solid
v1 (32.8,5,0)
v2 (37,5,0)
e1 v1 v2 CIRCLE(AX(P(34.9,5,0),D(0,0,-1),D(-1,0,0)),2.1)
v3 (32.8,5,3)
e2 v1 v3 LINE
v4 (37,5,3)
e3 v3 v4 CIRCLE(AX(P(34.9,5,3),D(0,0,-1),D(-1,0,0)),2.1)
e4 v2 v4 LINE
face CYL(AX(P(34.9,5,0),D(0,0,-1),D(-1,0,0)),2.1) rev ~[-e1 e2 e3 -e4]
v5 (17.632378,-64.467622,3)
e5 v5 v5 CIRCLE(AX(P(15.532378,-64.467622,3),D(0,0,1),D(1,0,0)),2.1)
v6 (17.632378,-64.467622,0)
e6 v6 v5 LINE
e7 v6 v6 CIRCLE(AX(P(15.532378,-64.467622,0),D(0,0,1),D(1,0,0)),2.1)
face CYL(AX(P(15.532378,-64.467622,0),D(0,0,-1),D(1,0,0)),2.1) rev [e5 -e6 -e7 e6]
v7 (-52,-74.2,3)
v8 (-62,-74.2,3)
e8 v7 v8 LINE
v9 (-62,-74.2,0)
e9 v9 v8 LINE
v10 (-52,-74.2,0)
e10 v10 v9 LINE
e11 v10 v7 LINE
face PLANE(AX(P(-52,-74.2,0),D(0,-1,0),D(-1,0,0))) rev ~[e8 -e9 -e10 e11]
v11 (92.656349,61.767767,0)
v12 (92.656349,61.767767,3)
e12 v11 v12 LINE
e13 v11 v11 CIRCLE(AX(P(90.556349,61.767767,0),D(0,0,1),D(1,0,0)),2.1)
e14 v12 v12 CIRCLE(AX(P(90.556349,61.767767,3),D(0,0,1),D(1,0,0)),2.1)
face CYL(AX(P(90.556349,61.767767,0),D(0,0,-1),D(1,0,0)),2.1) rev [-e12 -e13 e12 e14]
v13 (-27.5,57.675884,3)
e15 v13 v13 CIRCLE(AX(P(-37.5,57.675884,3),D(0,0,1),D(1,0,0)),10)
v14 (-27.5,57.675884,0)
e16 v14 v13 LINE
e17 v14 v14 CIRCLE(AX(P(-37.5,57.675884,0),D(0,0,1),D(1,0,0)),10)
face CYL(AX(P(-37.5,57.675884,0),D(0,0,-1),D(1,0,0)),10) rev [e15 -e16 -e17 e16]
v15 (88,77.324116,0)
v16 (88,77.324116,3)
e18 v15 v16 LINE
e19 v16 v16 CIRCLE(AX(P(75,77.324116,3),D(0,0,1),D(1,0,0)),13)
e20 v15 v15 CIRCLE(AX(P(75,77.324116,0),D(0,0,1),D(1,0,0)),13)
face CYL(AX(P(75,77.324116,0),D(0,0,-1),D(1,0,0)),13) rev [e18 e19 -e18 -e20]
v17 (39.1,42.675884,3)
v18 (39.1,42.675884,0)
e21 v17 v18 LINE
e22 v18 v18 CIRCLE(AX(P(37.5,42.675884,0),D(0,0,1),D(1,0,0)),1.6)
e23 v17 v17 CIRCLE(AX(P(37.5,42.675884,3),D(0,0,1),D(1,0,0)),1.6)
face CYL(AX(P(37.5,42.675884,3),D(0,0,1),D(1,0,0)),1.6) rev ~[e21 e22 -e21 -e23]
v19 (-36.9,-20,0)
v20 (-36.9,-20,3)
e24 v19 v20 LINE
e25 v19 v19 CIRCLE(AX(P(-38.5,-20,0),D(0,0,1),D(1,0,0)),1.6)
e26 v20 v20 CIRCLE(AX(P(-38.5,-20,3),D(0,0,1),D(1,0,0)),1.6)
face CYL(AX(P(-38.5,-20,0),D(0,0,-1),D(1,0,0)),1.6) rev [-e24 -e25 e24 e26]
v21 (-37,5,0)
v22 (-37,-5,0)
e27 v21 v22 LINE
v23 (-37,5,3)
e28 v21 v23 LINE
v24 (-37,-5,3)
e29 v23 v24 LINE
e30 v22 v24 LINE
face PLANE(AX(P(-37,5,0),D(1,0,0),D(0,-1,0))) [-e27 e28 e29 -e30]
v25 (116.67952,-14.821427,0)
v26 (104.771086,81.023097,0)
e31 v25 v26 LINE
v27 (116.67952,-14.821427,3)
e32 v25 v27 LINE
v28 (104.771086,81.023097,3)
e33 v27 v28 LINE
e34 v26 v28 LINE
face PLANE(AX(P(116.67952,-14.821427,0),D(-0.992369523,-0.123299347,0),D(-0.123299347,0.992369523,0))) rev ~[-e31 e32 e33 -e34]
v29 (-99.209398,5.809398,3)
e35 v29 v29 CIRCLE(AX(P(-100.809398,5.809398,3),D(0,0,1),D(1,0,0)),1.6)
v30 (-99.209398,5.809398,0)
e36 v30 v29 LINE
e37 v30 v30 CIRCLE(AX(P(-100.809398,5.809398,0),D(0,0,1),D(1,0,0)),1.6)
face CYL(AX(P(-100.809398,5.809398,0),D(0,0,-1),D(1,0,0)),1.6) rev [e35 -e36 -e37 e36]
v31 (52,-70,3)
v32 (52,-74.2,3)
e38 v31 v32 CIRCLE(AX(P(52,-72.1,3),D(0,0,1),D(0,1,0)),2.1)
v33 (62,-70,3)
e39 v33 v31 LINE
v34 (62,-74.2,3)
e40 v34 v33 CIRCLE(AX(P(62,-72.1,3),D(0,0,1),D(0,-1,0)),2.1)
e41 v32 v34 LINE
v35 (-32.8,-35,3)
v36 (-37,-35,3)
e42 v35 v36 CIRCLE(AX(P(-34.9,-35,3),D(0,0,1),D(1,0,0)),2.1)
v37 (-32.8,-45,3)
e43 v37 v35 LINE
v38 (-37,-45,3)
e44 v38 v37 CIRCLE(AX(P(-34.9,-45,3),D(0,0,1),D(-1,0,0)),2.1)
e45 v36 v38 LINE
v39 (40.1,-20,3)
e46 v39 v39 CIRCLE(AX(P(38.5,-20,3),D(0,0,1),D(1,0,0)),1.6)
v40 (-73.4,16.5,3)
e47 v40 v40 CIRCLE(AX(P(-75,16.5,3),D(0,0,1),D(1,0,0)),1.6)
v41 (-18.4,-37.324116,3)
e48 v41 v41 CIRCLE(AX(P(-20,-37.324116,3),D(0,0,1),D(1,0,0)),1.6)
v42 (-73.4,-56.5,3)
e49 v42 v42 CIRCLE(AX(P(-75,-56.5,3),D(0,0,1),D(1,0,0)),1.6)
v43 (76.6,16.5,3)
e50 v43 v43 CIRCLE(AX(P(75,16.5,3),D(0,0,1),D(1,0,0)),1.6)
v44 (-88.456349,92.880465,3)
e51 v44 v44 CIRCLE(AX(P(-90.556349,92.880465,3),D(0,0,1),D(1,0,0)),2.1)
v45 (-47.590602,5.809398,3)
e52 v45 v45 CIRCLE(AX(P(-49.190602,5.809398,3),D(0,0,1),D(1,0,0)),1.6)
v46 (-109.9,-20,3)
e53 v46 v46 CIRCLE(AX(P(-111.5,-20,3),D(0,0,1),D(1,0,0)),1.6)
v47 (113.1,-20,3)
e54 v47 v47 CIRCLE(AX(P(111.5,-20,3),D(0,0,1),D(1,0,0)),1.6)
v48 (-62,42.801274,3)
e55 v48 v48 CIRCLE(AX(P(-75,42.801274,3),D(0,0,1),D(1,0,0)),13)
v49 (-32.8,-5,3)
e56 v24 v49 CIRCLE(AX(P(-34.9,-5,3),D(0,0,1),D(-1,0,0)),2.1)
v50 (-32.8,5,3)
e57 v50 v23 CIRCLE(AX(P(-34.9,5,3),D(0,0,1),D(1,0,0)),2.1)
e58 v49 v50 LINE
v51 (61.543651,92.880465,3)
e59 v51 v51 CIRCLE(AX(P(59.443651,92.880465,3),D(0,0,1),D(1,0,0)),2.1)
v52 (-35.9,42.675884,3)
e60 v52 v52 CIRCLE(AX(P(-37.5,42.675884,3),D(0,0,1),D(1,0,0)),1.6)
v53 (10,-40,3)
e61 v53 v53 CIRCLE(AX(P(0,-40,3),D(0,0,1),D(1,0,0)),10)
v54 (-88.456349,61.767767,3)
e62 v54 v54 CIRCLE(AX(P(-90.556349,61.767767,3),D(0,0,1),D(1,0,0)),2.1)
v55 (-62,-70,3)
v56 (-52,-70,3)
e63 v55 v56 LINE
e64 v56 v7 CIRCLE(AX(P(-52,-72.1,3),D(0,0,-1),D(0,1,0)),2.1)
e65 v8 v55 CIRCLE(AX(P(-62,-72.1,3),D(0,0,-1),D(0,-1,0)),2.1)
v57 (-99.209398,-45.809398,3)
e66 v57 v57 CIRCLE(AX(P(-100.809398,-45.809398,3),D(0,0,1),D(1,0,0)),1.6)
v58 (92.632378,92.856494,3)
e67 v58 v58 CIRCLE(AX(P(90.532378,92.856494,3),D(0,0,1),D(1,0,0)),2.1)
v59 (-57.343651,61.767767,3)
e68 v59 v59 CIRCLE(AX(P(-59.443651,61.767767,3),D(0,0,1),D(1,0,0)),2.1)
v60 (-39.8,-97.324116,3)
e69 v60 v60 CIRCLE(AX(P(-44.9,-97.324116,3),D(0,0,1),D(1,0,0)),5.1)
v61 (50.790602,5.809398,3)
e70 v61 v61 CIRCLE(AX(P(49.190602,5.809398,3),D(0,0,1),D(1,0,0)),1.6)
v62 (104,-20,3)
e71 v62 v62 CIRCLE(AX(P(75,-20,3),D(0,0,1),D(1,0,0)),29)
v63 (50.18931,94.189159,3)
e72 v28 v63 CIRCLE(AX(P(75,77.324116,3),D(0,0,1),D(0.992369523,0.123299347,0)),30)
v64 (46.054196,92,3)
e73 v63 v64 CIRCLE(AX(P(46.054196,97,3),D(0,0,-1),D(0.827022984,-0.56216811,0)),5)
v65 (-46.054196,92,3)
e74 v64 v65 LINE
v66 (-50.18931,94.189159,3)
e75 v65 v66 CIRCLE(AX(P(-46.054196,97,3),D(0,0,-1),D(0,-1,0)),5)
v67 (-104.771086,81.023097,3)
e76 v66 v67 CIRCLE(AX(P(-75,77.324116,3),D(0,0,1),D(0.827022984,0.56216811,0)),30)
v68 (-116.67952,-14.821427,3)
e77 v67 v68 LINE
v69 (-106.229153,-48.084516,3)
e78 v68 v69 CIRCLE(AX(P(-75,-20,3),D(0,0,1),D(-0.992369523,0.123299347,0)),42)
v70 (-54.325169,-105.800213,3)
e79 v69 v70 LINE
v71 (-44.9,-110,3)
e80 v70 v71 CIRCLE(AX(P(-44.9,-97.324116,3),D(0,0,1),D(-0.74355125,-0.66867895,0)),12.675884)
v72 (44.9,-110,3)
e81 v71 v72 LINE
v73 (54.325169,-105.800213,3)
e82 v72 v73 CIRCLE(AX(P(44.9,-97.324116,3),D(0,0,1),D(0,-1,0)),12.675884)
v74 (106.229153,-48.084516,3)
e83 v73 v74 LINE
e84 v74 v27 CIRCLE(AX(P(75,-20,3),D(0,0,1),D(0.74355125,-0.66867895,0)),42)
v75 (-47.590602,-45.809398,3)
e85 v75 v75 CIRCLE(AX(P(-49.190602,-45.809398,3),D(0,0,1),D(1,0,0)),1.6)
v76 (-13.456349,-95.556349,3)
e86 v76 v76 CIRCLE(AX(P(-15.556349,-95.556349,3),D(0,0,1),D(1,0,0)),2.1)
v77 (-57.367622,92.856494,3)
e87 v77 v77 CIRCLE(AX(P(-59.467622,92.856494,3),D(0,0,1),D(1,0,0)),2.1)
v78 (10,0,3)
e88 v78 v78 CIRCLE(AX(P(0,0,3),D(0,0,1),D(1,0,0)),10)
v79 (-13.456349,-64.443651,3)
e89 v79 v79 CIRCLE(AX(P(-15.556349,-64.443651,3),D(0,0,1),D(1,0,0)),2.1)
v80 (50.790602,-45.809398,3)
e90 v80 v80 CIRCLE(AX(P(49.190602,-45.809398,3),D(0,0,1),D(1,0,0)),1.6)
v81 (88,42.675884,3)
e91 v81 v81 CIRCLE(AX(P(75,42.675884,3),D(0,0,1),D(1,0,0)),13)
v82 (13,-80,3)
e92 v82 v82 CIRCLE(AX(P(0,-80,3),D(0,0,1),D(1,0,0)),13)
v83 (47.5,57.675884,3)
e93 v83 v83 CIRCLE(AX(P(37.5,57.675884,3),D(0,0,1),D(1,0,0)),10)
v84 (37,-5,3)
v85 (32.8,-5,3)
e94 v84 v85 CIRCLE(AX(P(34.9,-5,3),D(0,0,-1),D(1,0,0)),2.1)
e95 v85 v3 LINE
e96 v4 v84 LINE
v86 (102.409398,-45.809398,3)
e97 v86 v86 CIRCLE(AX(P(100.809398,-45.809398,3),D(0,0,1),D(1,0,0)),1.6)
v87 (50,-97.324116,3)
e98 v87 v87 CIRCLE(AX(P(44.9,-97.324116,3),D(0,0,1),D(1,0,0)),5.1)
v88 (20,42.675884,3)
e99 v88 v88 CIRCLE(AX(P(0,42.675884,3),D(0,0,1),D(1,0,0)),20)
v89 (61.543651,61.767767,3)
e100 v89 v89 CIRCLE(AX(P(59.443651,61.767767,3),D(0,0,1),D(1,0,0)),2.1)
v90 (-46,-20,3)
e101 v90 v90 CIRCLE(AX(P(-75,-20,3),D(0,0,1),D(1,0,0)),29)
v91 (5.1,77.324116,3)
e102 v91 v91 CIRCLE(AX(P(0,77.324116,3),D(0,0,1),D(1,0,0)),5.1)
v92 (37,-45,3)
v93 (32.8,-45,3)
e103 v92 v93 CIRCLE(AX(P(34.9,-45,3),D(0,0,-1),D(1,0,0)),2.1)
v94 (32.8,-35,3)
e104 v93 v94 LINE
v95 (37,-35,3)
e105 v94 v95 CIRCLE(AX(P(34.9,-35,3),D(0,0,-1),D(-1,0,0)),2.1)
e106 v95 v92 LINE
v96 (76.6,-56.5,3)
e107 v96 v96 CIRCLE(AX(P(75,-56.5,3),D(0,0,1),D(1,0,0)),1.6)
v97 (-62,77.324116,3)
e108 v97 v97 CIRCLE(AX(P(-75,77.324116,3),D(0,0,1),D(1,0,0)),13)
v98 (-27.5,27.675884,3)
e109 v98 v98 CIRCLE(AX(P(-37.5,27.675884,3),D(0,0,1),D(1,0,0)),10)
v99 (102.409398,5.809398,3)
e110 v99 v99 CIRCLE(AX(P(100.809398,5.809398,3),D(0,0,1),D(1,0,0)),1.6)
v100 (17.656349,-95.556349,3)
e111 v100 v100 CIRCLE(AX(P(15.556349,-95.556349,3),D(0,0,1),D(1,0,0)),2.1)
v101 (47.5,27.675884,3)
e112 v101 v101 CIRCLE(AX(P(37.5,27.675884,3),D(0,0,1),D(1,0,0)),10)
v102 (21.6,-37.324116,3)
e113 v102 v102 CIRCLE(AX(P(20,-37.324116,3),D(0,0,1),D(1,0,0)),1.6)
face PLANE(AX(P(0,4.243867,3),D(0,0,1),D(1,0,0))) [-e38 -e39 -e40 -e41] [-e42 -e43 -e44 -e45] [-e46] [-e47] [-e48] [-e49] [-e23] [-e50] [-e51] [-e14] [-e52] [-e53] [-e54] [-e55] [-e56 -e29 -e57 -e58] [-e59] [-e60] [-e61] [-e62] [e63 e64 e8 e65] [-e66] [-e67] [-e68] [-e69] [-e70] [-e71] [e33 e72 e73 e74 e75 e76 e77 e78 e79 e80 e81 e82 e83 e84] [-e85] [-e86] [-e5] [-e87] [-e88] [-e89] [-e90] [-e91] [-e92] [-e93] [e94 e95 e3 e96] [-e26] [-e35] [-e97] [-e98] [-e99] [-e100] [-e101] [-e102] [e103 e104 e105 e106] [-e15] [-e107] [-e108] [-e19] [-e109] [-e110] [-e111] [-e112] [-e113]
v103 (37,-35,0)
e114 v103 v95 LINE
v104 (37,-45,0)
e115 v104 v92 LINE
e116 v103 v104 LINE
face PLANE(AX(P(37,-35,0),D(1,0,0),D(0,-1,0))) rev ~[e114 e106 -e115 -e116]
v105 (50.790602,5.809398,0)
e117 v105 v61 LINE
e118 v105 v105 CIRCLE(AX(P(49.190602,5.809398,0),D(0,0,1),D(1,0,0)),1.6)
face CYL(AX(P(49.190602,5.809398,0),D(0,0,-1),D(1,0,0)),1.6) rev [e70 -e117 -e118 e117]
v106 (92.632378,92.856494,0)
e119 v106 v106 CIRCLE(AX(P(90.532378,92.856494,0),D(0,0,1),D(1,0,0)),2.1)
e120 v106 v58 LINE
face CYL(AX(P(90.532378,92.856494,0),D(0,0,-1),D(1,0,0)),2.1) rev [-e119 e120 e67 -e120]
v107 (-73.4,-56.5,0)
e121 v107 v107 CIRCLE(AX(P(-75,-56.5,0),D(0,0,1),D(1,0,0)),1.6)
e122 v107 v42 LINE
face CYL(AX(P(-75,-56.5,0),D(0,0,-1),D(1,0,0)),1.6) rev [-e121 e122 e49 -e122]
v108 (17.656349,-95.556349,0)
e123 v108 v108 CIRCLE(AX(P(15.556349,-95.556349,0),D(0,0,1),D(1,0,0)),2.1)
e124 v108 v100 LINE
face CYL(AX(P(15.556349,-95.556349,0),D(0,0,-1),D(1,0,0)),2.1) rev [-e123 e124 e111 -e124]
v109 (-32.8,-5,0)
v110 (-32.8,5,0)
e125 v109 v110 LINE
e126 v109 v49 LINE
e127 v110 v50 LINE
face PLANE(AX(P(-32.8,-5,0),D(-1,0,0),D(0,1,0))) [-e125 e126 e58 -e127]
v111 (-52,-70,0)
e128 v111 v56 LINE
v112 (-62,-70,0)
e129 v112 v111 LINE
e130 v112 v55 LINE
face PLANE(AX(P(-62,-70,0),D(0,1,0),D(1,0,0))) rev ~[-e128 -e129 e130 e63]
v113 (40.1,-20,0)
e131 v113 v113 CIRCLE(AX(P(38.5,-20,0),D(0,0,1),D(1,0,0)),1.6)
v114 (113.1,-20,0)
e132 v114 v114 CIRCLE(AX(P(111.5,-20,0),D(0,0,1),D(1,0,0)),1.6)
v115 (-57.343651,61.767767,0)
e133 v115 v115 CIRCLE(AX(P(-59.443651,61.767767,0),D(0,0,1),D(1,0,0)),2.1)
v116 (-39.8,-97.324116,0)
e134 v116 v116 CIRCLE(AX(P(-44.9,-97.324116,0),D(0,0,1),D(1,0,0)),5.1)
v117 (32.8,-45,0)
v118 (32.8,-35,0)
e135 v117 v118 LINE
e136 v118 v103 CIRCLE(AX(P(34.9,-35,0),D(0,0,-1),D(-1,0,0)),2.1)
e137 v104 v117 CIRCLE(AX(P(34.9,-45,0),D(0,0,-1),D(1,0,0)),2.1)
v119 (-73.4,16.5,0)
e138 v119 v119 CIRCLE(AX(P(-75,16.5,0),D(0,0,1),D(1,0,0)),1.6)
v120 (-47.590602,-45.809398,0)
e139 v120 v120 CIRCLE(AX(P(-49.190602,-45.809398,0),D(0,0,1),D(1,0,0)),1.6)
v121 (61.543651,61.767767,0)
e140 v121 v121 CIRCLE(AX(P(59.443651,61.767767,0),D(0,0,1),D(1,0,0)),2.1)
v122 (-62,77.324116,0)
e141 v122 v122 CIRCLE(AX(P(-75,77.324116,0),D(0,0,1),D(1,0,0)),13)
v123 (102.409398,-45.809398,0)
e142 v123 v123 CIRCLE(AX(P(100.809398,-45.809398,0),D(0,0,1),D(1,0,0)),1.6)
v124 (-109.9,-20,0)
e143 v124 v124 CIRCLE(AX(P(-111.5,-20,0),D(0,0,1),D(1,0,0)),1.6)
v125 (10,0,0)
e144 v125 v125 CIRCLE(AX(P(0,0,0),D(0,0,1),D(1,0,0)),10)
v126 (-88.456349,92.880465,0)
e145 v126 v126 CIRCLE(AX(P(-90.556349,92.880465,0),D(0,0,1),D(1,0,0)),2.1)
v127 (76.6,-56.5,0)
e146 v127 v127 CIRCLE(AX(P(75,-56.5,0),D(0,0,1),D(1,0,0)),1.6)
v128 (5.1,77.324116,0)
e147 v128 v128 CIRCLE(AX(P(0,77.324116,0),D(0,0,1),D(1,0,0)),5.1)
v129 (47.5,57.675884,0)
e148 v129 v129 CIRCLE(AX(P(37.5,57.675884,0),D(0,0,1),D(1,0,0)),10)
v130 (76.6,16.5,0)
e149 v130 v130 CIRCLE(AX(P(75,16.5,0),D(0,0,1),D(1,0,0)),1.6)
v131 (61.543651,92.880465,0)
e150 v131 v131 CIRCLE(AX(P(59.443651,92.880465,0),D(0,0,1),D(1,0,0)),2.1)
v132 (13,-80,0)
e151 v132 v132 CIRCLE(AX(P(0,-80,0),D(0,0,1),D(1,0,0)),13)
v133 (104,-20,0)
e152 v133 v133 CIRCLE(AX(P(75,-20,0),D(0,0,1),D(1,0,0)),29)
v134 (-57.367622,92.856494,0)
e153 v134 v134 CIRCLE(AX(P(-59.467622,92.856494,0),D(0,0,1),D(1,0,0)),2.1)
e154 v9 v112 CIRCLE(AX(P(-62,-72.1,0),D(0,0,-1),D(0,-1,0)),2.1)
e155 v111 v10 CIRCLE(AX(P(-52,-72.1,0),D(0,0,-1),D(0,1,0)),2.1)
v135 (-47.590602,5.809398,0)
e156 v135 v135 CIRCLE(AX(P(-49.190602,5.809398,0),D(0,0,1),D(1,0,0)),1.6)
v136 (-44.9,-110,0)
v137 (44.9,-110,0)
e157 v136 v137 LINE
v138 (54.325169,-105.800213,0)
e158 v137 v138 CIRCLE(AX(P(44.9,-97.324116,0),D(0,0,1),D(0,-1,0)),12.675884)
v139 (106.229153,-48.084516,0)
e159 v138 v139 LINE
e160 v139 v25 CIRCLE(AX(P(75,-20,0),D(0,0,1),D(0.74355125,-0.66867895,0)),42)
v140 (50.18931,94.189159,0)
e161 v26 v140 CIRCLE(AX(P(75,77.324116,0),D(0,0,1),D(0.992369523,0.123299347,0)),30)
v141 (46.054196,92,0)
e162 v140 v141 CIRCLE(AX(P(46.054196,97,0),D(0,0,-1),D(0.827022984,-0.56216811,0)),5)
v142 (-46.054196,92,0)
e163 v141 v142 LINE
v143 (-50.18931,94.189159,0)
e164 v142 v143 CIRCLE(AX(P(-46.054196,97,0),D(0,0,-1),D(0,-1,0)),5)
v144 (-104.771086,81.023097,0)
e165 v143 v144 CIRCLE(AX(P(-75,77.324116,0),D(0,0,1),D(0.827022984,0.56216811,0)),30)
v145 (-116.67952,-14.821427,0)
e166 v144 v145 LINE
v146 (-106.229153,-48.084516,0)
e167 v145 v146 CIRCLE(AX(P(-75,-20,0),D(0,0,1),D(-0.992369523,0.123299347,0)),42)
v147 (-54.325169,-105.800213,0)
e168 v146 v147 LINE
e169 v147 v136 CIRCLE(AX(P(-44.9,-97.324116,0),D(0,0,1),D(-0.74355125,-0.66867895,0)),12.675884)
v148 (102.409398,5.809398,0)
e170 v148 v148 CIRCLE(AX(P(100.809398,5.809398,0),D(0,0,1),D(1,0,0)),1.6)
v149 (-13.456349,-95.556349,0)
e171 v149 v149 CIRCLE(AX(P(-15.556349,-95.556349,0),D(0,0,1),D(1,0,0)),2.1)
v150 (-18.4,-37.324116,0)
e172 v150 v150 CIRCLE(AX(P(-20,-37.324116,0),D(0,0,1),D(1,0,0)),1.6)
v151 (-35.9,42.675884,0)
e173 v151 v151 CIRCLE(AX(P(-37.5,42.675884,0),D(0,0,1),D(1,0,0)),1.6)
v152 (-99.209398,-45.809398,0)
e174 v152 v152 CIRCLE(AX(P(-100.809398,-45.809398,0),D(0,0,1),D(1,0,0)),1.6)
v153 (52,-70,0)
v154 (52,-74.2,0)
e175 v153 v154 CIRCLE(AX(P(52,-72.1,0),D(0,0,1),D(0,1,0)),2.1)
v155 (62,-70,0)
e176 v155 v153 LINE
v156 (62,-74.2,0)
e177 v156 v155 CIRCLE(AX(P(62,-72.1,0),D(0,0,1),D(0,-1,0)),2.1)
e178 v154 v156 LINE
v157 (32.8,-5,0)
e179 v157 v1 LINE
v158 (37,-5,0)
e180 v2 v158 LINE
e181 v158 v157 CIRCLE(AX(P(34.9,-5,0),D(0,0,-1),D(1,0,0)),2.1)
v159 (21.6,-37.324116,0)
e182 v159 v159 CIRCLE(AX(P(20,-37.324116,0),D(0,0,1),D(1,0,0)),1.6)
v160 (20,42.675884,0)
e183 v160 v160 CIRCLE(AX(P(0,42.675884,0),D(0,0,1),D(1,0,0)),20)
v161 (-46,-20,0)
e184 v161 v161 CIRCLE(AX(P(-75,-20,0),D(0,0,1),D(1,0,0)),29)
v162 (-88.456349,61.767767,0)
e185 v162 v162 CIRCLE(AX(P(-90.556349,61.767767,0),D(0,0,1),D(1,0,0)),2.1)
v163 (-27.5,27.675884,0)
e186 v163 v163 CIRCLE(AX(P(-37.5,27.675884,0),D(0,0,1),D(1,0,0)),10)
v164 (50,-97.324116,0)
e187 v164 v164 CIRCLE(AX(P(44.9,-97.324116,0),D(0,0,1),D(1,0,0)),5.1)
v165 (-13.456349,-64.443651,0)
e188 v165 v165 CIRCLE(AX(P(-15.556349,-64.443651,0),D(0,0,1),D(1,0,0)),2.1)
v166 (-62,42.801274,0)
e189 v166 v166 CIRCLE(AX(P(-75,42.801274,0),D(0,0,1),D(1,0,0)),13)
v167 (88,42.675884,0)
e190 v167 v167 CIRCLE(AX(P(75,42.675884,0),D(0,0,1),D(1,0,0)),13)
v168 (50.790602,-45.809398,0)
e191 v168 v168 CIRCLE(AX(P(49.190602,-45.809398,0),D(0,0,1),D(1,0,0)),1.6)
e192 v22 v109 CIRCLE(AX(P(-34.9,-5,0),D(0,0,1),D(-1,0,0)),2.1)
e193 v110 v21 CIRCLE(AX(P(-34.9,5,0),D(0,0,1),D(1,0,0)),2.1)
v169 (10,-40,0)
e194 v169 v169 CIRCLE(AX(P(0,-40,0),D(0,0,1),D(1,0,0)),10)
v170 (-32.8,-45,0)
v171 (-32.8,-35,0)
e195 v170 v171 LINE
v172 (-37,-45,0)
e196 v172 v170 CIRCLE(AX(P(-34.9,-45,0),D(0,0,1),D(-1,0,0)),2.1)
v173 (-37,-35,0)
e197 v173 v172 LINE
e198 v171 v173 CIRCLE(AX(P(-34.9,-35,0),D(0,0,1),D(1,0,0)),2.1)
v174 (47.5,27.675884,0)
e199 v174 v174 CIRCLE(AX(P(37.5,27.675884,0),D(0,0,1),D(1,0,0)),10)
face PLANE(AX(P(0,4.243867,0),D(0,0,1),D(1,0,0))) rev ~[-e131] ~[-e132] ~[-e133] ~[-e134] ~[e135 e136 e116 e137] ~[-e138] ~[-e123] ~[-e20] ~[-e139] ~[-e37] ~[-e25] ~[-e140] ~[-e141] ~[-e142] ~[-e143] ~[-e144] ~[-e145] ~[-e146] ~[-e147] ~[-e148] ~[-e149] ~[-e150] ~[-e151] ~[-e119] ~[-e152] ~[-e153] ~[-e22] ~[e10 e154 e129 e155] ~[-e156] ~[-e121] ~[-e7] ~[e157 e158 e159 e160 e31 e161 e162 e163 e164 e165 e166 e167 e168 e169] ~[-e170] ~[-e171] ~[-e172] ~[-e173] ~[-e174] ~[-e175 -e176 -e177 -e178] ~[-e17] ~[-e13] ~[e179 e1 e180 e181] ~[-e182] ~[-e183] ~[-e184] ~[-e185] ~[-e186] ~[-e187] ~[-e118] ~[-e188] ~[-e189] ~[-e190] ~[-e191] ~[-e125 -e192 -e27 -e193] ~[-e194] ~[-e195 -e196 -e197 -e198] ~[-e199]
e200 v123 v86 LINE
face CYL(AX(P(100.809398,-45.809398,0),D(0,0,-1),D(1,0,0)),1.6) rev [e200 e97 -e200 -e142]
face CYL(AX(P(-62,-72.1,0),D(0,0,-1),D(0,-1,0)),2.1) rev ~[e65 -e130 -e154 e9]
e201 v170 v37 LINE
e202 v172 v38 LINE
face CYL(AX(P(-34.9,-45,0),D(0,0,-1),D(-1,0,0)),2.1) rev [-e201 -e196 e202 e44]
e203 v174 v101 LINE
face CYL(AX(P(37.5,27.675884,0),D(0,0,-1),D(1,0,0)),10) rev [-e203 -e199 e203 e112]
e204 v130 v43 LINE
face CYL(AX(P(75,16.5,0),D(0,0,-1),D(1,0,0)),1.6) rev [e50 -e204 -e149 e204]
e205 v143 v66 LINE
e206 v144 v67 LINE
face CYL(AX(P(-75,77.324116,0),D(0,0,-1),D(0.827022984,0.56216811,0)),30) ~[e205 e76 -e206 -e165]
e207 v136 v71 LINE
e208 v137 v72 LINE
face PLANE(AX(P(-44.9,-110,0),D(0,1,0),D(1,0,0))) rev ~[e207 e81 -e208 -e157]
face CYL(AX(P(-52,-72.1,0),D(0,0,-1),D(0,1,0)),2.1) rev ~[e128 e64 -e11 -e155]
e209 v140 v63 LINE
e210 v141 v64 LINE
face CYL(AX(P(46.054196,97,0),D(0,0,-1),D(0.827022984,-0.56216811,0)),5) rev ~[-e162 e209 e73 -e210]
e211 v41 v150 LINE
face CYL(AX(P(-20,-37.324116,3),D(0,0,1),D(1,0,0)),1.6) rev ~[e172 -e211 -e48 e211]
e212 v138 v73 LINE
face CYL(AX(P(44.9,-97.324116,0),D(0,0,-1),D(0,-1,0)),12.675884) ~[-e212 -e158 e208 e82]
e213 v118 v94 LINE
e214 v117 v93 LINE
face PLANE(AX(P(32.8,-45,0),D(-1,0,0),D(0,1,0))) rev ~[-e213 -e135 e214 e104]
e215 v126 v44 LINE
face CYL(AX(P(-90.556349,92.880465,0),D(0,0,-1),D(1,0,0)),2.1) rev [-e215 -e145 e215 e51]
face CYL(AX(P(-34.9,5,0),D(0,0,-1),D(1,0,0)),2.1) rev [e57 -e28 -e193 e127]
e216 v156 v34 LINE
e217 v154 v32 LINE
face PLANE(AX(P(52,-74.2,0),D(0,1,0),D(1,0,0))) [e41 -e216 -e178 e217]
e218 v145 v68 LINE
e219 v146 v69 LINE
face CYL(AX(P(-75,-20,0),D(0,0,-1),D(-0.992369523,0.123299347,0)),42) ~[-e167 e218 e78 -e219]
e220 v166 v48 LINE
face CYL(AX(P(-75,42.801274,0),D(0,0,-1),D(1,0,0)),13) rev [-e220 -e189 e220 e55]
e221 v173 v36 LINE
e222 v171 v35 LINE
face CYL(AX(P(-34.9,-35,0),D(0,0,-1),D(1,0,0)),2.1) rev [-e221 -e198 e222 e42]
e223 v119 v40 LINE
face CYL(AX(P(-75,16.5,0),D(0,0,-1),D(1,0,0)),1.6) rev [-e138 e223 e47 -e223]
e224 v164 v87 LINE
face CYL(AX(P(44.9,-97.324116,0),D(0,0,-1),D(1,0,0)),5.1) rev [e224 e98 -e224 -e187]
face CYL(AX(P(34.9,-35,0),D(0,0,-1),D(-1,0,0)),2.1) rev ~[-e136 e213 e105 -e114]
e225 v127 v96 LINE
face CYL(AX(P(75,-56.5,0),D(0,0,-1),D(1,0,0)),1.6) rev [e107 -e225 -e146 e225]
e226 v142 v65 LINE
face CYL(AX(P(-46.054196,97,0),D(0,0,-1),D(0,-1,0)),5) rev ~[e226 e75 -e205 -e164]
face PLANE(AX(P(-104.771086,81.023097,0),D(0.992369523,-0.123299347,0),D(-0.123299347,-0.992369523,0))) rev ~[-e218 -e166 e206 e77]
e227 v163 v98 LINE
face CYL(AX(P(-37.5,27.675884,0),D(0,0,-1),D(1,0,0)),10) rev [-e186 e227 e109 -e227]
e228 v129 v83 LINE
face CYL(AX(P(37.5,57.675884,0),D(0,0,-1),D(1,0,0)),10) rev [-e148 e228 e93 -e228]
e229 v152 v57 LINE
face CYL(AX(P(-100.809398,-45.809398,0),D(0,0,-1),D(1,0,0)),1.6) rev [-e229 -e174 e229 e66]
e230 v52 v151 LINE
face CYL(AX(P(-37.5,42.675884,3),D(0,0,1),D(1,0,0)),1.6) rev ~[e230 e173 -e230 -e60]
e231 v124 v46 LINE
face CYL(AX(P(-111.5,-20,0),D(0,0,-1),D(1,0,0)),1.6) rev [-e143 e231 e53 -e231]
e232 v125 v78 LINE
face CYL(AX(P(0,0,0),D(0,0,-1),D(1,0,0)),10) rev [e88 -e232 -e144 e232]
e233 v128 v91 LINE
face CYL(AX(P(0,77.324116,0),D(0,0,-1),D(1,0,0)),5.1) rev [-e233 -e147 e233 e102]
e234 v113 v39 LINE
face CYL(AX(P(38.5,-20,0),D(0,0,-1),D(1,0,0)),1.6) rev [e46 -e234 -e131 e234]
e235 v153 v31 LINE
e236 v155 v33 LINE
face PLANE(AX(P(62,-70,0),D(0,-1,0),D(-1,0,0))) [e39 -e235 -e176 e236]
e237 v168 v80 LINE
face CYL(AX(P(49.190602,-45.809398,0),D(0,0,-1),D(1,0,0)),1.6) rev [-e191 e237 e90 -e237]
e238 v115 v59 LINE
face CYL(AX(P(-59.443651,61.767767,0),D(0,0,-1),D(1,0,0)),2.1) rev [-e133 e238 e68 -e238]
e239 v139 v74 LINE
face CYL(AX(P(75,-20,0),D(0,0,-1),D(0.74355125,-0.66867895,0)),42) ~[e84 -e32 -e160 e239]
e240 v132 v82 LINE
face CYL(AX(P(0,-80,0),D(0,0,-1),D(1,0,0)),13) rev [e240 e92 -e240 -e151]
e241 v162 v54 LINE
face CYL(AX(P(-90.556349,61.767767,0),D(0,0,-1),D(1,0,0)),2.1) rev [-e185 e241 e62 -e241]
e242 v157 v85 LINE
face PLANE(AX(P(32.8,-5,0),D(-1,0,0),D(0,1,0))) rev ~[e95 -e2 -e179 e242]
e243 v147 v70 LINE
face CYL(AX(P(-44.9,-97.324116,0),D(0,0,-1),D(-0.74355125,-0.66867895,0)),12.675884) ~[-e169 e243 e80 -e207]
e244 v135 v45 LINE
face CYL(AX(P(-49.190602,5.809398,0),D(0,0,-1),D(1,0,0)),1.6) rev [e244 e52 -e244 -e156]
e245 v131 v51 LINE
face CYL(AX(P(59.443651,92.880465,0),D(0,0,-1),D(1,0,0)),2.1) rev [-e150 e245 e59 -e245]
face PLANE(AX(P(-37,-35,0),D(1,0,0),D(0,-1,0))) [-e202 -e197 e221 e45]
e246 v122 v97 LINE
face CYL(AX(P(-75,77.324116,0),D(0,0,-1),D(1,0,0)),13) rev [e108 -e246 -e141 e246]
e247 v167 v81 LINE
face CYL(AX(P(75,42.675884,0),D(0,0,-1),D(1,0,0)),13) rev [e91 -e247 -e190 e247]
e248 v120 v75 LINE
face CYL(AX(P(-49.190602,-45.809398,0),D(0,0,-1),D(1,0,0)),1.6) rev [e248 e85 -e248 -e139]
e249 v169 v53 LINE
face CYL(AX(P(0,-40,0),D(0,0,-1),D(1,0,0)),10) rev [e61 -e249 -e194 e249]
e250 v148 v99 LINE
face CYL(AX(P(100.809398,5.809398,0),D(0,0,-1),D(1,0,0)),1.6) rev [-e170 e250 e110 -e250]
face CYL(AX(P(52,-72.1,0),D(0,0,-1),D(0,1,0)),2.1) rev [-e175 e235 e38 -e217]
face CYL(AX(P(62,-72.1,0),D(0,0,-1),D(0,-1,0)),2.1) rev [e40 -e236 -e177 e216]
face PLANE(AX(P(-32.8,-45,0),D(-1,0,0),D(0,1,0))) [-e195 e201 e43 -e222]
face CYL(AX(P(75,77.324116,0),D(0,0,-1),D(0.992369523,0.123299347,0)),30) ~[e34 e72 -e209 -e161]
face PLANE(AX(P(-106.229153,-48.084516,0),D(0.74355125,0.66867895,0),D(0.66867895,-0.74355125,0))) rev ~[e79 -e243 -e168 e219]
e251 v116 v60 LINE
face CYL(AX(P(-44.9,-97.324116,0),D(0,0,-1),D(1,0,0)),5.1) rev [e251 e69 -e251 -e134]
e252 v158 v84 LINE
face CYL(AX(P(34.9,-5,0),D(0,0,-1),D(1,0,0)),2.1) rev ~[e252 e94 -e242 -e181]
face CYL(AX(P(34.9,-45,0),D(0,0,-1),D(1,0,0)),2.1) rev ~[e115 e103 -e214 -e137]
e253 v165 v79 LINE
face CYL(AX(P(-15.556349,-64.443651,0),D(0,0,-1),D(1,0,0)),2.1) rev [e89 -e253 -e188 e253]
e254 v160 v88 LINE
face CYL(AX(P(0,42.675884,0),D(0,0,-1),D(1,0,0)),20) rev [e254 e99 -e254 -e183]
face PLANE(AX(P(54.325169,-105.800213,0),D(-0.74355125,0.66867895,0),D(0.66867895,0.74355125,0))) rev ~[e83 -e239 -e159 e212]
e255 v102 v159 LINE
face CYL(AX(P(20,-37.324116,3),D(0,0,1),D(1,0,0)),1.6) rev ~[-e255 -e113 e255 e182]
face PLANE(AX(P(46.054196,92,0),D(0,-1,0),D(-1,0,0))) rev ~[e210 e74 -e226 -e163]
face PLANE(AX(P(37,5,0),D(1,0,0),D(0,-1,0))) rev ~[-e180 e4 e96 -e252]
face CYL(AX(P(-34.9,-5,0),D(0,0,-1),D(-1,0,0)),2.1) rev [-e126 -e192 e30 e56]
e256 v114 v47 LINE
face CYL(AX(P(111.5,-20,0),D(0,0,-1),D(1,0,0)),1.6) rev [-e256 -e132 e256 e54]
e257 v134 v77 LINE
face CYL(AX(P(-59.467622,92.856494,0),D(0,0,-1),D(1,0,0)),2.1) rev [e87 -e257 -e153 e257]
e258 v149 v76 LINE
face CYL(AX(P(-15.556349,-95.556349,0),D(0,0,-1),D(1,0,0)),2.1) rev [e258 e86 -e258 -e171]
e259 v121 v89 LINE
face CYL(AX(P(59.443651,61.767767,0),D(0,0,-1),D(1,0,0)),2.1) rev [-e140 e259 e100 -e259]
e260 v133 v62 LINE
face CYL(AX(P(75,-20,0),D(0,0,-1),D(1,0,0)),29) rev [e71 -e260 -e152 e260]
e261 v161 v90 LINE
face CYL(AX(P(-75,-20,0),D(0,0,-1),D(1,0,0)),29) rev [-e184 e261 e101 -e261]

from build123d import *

# Parameters (mm, degrees)
MODEL_R             = 13
MODEL_R_2           = 5.1
MODEL_R_3           = 10
MODEL_R_4           = 20
MODEL_R_5           = 29
MODEL_R_6           = 1.6
MODEL_R_7           = 2.1
BOSS_EXTRUDE1_DEPTH = 3
CUT_EXTRUDE1_REACH  = 162.618
SKETCH1_R           = 1.6


with BuildPart() as part:
    # Model → Boss-Extrude1 (new body)
    with BuildSketch(Plane.XY):
        with BuildLine():
            Line((-44.9, -110), (0, -110))
            Line((0, -110), (44.9, -110))
            ThreePointArc((44.9, -110), (50.059264201, -108.902545418), (54.325169295, -105.800212848))
            Line((54.325169295, -105.800212848), (106.229152519, -48.084515893))
            ThreePointArc((106.229152519, -48.084515893), (115.069026633, -32.588610118), (116.679519982, -14.821427412))
            Line((116.679519982, -14.821427412), (104.771085702, 81.023096559))
            ThreePointArc((104.771085702, 81.023096559), (82.034748438, 106.48766041), (50.189310486, 94.189159448))
            ThreePointArc((50.189310486, 94.189159448), (48.393618278, 92.581052005), (46.054195567, 92))
            Line((46.054195567, 92), (0, 92))
            Line((0, 92), (-46.054195567, 92))
            ThreePointArc((-46.054195567, 92), (-48.393618278, 92.581052005), (-50.189310486, 94.189159448))
            ThreePointArc((-50.189310486, 94.189159448), (-82.034748438, 106.48766041), (-104.771085702, 81.023096559))
            Line((-104.771085702, 81.023096559), (-116.679519982, -14.821427412))
            ThreePointArc((-116.679519982, -14.821427412), (-115.069026633, -32.588610118), (-106.229152519, -48.084515893))
            Line((-106.229152519, -48.084515893), (-54.325169295, -105.800212848))
            ThreePointArc((-54.325169295, -105.800212848), (-50.059264201, -108.902545418), (-44.9, -110))
        make_face()
        with Locations((0, -80)):
            Circle(MODEL_R, mode=Mode.SUBTRACT)
        with Locations((-44.9, -97.324116139)):
            Circle(MODEL_R_2, mode=Mode.SUBTRACT)
        with Locations((44.9, -97.324116139)):
            Circle(MODEL_R_2, mode=Mode.SUBTRACT)
        with Locations((0, 77.324116139)):
            Circle(MODEL_R_2, mode=Mode.SUBTRACT)
        Circle(MODEL_R_3, mode=Mode.SUBTRACT)
        with Locations((0, -40)):
            Circle(MODEL_R_3, mode=Mode.SUBTRACT)
        with Locations((0, 42.675883861)):
            Circle(MODEL_R_4, mode=Mode.SUBTRACT)
        with Locations((-37.5, 57.675883861)):
            Circle(MODEL_R_3, mode=Mode.SUBTRACT)
        with Locations((-37.5, 27.675883861)):
            Circle(MODEL_R_3, mode=Mode.SUBTRACT)
        with Locations((37.5, 57.675883861)):
            Circle(MODEL_R_3, mode=Mode.SUBTRACT)
        with Locations((37.5, 27.675883861)):
            Circle(MODEL_R_3, mode=Mode.SUBTRACT)
        with Locations((-75, -20)):
            Circle(MODEL_R_5, mode=Mode.SUBTRACT)
        with Locations((-75, 16.5)):
            Circle(MODEL_R_6, mode=Mode.SUBTRACT)
        with Locations((-100.809397513, 5.809397513)):
            Circle(MODEL_R_6, mode=Mode.SUBTRACT)
        with Locations((-49.190602487, 5.809397513)):
            Circle(MODEL_R_6, mode=Mode.SUBTRACT)
        with Locations((-38.5, -20)):
            Circle(MODEL_R_6, mode=Mode.SUBTRACT)
        with Locations((-49.190602487, -45.809397513)):
            Circle(MODEL_R_6, mode=Mode.SUBTRACT)
        with Locations((-75, -56.5)):
            Circle(MODEL_R_6, mode=Mode.SUBTRACT)
        with Locations((-100.809397513, -45.809397513)):
            Circle(MODEL_R_6, mode=Mode.SUBTRACT)
        with Locations((-111.5, -20)):
            Circle(MODEL_R_6, mode=Mode.SUBTRACT)
        with Locations((75, -20)):
            Circle(MODEL_R_5, mode=Mode.SUBTRACT)
        with Locations((75, 16.5)):
            Circle(MODEL_R_6, mode=Mode.SUBTRACT)
        with Locations((49.190602487, 5.809397513)):
            Circle(MODEL_R_6, mode=Mode.SUBTRACT)
        with Locations((100.809397513, 5.809397513)):
            Circle(MODEL_R_6, mode=Mode.SUBTRACT)
        with Locations((111.5, -20)):
            Circle(MODEL_R_6, mode=Mode.SUBTRACT)
        with Locations((100.809397513, -45.809397513)):
            Circle(MODEL_R_6, mode=Mode.SUBTRACT)
        with Locations((75, -56.5)):
            Circle(MODEL_R_6, mode=Mode.SUBTRACT)
        with Locations((49.190602487, -45.809397513)):
            Circle(MODEL_R_6, mode=Mode.SUBTRACT)
        with Locations((38.5, -20)):
            Circle(MODEL_R_6, mode=Mode.SUBTRACT)
        with Locations((-75, 77.324116139)):
            Circle(MODEL_R, mode=Mode.SUBTRACT)
        with Locations((75, 77.324116139)):
            Circle(MODEL_R, mode=Mode.SUBTRACT)
        with Locations((-75, 42.801273872)):
            Circle(MODEL_R, mode=Mode.SUBTRACT)
        with Locations((75, 42.675883861)):
            Circle(MODEL_R, mode=Mode.SUBTRACT)
        with Locations((-59.467622393, 92.856493746)):
            Circle(MODEL_R_7, mode=Mode.SUBTRACT)
        with Locations((-90.556349186, 92.880465325)):
            Circle(MODEL_R_7, mode=Mode.SUBTRACT)
        with Locations((-90.556349186, 61.767766953)):
            Circle(MODEL_R_7, mode=Mode.SUBTRACT)
        with Locations((-59.443650814, 61.767766953)):
            Circle(MODEL_R_7, mode=Mode.SUBTRACT)
        with Locations((90.532377607, 92.856493746)):
            Circle(MODEL_R_7, mode=Mode.SUBTRACT)
        with Locations((59.443650814, 92.880465325)):
            Circle(MODEL_R_7, mode=Mode.SUBTRACT)
        with Locations((59.443650814, 61.767766953)):
            Circle(MODEL_R_7, mode=Mode.SUBTRACT)
        with Locations((90.556349186, 61.767766953)):
            Circle(MODEL_R_7, mode=Mode.SUBTRACT)
        with Locations((15.532377607, -64.467622393)):
            Circle(MODEL_R_7, mode=Mode.SUBTRACT)
        with Locations((-15.556349186, -64.443650814)):
            Circle(MODEL_R_7, mode=Mode.SUBTRACT)
        with Locations((-15.556349186, -95.556349186)):
            Circle(MODEL_R_7, mode=Mode.SUBTRACT)
        with Locations((15.556349186, -95.556349186)):
            Circle(MODEL_R_7, mode=Mode.SUBTRACT)
        with BuildLine():
            Line((-37, 5), (-37, -5))
            ThreePointArc((-37, -5), (-34.9, -7.1), (-32.8, -5))
            Line((-32.8, -5), (-32.8, 5))
            ThreePointArc((-32.8, 5), (-34.9, 7.1), (-37, 5))
        make_face(mode=Mode.SUBTRACT)
        with BuildLine():
            Line((-37, -35), (-37, -45))
            ThreePointArc((-37, -45), (-34.9, -47.1), (-32.8, -45))
            Line((-32.8, -45), (-32.8, -35))
            ThreePointArc((-32.8, -35), (-34.9, -32.9), (-37, -35))
        make_face(mode=Mode.SUBTRACT)
        with BuildLine():
            Line((37, 5), (37, -5))
            ThreePointArc((37, -5), (34.9, -7.1), (32.8, -5))
            Line((32.8, -5), (32.8, 5))
            ThreePointArc((32.8, 5), (34.9, 7.1), (37, 5))
        make_face(mode=Mode.SUBTRACT)
        with BuildLine():
            Line((37, -35), (37, -45))
            ThreePointArc((37, -45), (34.9, -47.1), (32.8, -45))
            Line((32.8, -45), (32.8, -35))
            ThreePointArc((32.8, -35), (34.9, -32.9), (37, -35))
        make_face(mode=Mode.SUBTRACT)
        with BuildLine():
            Line((-62, -70), (-52, -70))
            ThreePointArc((-52, -70), (-49.9, -72.1), (-52, -74.2))
            Line((-52, -74.2), (-62, -74.2))
            ThreePointArc((-62, -74.2), (-64.1, -72.1), (-62, -70))
        make_face(mode=Mode.SUBTRACT)
        with BuildLine():
            Line((62, -70), (52, -70))
            ThreePointArc((52, -70), (49.9, -72.1), (52, -74.2))
            Line((52, -74.2), (62, -74.2))
            ThreePointArc((62, -74.2), (64.1, -72.1), (62, -70))
        make_face(mode=Mode.SUBTRACT)
    extrude(amount=BOSS_EXTRUDE1_DEPTH)

    # Sketch1 → Cut-Extrude1 (cut, up to next)
    with BuildSketch(Plane.XY.offset(3), mode=Mode.PRIVATE) as cut_extrude1_sk1:
        with Locations((-37.5, 42.675883861)):
            Circle(SKETCH1_R)
    cut_extrude1_tool1 = extrude(cut_extrude1_sk1.sketch, amount=-CUT_EXTRUDE1_REACH, mode=Mode.PRIVATE) & part.part
    # Sketch1 → Cut-Extrude1 (cut, up to next)
    with BuildSketch(Plane.XY.offset(3), mode=Mode.PRIVATE) as cut_extrude1_sk2:
        with Locations((37.5, 42.675883861)):
            Circle(SKETCH1_R)
    cut_extrude1_tool2 = extrude(cut_extrude1_sk2.sketch, amount=-CUT_EXTRUDE1_REACH, mode=Mode.PRIVATE) & part.part
    # Sketch1 → Cut-Extrude1 (cut, up to next)
    with BuildSketch(Plane.XY.offset(3), mode=Mode.PRIVATE) as cut_extrude1_sk3:
        with Locations((-20, -37.324116139)):
            Circle(SKETCH1_R)
    cut_extrude1_tool3 = extrude(cut_extrude1_sk3.sketch, amount=-CUT_EXTRUDE1_REACH, mode=Mode.PRIVATE) & part.part
    # Sketch1 → Cut-Extrude1 (cut, up to next)
    with BuildSketch(Plane.XY.offset(3), mode=Mode.PRIVATE) as cut_extrude1_sk4:
        with Locations((20, -37.324116139)):
            Circle(SKETCH1_R)
    cut_extrude1_tool4 = extrude(cut_extrude1_sk4.sketch, amount=-CUT_EXTRUDE1_REACH, mode=Mode.PRIVATE) & part.part
    add(cut_extrude1_tool1.solids().sort_by_distance((-37.5, 42.675884, 3))[0], mode=Mode.SUBTRACT)
    add(cut_extrude1_tool2.solids().sort_by_distance((37.5, 42.675884, 3))[0], mode=Mode.SUBTRACT)
    add(cut_extrude1_tool3.solids().sort_by_distance((-20, -37.324116, 3))[0], mode=Mode.SUBTRACT)
    add(cut_extrude1_tool4.solids().sort_by_distance((20, -37.324116, 3))[0], mode=Mode.SUBTRACT)


solid = part.part
